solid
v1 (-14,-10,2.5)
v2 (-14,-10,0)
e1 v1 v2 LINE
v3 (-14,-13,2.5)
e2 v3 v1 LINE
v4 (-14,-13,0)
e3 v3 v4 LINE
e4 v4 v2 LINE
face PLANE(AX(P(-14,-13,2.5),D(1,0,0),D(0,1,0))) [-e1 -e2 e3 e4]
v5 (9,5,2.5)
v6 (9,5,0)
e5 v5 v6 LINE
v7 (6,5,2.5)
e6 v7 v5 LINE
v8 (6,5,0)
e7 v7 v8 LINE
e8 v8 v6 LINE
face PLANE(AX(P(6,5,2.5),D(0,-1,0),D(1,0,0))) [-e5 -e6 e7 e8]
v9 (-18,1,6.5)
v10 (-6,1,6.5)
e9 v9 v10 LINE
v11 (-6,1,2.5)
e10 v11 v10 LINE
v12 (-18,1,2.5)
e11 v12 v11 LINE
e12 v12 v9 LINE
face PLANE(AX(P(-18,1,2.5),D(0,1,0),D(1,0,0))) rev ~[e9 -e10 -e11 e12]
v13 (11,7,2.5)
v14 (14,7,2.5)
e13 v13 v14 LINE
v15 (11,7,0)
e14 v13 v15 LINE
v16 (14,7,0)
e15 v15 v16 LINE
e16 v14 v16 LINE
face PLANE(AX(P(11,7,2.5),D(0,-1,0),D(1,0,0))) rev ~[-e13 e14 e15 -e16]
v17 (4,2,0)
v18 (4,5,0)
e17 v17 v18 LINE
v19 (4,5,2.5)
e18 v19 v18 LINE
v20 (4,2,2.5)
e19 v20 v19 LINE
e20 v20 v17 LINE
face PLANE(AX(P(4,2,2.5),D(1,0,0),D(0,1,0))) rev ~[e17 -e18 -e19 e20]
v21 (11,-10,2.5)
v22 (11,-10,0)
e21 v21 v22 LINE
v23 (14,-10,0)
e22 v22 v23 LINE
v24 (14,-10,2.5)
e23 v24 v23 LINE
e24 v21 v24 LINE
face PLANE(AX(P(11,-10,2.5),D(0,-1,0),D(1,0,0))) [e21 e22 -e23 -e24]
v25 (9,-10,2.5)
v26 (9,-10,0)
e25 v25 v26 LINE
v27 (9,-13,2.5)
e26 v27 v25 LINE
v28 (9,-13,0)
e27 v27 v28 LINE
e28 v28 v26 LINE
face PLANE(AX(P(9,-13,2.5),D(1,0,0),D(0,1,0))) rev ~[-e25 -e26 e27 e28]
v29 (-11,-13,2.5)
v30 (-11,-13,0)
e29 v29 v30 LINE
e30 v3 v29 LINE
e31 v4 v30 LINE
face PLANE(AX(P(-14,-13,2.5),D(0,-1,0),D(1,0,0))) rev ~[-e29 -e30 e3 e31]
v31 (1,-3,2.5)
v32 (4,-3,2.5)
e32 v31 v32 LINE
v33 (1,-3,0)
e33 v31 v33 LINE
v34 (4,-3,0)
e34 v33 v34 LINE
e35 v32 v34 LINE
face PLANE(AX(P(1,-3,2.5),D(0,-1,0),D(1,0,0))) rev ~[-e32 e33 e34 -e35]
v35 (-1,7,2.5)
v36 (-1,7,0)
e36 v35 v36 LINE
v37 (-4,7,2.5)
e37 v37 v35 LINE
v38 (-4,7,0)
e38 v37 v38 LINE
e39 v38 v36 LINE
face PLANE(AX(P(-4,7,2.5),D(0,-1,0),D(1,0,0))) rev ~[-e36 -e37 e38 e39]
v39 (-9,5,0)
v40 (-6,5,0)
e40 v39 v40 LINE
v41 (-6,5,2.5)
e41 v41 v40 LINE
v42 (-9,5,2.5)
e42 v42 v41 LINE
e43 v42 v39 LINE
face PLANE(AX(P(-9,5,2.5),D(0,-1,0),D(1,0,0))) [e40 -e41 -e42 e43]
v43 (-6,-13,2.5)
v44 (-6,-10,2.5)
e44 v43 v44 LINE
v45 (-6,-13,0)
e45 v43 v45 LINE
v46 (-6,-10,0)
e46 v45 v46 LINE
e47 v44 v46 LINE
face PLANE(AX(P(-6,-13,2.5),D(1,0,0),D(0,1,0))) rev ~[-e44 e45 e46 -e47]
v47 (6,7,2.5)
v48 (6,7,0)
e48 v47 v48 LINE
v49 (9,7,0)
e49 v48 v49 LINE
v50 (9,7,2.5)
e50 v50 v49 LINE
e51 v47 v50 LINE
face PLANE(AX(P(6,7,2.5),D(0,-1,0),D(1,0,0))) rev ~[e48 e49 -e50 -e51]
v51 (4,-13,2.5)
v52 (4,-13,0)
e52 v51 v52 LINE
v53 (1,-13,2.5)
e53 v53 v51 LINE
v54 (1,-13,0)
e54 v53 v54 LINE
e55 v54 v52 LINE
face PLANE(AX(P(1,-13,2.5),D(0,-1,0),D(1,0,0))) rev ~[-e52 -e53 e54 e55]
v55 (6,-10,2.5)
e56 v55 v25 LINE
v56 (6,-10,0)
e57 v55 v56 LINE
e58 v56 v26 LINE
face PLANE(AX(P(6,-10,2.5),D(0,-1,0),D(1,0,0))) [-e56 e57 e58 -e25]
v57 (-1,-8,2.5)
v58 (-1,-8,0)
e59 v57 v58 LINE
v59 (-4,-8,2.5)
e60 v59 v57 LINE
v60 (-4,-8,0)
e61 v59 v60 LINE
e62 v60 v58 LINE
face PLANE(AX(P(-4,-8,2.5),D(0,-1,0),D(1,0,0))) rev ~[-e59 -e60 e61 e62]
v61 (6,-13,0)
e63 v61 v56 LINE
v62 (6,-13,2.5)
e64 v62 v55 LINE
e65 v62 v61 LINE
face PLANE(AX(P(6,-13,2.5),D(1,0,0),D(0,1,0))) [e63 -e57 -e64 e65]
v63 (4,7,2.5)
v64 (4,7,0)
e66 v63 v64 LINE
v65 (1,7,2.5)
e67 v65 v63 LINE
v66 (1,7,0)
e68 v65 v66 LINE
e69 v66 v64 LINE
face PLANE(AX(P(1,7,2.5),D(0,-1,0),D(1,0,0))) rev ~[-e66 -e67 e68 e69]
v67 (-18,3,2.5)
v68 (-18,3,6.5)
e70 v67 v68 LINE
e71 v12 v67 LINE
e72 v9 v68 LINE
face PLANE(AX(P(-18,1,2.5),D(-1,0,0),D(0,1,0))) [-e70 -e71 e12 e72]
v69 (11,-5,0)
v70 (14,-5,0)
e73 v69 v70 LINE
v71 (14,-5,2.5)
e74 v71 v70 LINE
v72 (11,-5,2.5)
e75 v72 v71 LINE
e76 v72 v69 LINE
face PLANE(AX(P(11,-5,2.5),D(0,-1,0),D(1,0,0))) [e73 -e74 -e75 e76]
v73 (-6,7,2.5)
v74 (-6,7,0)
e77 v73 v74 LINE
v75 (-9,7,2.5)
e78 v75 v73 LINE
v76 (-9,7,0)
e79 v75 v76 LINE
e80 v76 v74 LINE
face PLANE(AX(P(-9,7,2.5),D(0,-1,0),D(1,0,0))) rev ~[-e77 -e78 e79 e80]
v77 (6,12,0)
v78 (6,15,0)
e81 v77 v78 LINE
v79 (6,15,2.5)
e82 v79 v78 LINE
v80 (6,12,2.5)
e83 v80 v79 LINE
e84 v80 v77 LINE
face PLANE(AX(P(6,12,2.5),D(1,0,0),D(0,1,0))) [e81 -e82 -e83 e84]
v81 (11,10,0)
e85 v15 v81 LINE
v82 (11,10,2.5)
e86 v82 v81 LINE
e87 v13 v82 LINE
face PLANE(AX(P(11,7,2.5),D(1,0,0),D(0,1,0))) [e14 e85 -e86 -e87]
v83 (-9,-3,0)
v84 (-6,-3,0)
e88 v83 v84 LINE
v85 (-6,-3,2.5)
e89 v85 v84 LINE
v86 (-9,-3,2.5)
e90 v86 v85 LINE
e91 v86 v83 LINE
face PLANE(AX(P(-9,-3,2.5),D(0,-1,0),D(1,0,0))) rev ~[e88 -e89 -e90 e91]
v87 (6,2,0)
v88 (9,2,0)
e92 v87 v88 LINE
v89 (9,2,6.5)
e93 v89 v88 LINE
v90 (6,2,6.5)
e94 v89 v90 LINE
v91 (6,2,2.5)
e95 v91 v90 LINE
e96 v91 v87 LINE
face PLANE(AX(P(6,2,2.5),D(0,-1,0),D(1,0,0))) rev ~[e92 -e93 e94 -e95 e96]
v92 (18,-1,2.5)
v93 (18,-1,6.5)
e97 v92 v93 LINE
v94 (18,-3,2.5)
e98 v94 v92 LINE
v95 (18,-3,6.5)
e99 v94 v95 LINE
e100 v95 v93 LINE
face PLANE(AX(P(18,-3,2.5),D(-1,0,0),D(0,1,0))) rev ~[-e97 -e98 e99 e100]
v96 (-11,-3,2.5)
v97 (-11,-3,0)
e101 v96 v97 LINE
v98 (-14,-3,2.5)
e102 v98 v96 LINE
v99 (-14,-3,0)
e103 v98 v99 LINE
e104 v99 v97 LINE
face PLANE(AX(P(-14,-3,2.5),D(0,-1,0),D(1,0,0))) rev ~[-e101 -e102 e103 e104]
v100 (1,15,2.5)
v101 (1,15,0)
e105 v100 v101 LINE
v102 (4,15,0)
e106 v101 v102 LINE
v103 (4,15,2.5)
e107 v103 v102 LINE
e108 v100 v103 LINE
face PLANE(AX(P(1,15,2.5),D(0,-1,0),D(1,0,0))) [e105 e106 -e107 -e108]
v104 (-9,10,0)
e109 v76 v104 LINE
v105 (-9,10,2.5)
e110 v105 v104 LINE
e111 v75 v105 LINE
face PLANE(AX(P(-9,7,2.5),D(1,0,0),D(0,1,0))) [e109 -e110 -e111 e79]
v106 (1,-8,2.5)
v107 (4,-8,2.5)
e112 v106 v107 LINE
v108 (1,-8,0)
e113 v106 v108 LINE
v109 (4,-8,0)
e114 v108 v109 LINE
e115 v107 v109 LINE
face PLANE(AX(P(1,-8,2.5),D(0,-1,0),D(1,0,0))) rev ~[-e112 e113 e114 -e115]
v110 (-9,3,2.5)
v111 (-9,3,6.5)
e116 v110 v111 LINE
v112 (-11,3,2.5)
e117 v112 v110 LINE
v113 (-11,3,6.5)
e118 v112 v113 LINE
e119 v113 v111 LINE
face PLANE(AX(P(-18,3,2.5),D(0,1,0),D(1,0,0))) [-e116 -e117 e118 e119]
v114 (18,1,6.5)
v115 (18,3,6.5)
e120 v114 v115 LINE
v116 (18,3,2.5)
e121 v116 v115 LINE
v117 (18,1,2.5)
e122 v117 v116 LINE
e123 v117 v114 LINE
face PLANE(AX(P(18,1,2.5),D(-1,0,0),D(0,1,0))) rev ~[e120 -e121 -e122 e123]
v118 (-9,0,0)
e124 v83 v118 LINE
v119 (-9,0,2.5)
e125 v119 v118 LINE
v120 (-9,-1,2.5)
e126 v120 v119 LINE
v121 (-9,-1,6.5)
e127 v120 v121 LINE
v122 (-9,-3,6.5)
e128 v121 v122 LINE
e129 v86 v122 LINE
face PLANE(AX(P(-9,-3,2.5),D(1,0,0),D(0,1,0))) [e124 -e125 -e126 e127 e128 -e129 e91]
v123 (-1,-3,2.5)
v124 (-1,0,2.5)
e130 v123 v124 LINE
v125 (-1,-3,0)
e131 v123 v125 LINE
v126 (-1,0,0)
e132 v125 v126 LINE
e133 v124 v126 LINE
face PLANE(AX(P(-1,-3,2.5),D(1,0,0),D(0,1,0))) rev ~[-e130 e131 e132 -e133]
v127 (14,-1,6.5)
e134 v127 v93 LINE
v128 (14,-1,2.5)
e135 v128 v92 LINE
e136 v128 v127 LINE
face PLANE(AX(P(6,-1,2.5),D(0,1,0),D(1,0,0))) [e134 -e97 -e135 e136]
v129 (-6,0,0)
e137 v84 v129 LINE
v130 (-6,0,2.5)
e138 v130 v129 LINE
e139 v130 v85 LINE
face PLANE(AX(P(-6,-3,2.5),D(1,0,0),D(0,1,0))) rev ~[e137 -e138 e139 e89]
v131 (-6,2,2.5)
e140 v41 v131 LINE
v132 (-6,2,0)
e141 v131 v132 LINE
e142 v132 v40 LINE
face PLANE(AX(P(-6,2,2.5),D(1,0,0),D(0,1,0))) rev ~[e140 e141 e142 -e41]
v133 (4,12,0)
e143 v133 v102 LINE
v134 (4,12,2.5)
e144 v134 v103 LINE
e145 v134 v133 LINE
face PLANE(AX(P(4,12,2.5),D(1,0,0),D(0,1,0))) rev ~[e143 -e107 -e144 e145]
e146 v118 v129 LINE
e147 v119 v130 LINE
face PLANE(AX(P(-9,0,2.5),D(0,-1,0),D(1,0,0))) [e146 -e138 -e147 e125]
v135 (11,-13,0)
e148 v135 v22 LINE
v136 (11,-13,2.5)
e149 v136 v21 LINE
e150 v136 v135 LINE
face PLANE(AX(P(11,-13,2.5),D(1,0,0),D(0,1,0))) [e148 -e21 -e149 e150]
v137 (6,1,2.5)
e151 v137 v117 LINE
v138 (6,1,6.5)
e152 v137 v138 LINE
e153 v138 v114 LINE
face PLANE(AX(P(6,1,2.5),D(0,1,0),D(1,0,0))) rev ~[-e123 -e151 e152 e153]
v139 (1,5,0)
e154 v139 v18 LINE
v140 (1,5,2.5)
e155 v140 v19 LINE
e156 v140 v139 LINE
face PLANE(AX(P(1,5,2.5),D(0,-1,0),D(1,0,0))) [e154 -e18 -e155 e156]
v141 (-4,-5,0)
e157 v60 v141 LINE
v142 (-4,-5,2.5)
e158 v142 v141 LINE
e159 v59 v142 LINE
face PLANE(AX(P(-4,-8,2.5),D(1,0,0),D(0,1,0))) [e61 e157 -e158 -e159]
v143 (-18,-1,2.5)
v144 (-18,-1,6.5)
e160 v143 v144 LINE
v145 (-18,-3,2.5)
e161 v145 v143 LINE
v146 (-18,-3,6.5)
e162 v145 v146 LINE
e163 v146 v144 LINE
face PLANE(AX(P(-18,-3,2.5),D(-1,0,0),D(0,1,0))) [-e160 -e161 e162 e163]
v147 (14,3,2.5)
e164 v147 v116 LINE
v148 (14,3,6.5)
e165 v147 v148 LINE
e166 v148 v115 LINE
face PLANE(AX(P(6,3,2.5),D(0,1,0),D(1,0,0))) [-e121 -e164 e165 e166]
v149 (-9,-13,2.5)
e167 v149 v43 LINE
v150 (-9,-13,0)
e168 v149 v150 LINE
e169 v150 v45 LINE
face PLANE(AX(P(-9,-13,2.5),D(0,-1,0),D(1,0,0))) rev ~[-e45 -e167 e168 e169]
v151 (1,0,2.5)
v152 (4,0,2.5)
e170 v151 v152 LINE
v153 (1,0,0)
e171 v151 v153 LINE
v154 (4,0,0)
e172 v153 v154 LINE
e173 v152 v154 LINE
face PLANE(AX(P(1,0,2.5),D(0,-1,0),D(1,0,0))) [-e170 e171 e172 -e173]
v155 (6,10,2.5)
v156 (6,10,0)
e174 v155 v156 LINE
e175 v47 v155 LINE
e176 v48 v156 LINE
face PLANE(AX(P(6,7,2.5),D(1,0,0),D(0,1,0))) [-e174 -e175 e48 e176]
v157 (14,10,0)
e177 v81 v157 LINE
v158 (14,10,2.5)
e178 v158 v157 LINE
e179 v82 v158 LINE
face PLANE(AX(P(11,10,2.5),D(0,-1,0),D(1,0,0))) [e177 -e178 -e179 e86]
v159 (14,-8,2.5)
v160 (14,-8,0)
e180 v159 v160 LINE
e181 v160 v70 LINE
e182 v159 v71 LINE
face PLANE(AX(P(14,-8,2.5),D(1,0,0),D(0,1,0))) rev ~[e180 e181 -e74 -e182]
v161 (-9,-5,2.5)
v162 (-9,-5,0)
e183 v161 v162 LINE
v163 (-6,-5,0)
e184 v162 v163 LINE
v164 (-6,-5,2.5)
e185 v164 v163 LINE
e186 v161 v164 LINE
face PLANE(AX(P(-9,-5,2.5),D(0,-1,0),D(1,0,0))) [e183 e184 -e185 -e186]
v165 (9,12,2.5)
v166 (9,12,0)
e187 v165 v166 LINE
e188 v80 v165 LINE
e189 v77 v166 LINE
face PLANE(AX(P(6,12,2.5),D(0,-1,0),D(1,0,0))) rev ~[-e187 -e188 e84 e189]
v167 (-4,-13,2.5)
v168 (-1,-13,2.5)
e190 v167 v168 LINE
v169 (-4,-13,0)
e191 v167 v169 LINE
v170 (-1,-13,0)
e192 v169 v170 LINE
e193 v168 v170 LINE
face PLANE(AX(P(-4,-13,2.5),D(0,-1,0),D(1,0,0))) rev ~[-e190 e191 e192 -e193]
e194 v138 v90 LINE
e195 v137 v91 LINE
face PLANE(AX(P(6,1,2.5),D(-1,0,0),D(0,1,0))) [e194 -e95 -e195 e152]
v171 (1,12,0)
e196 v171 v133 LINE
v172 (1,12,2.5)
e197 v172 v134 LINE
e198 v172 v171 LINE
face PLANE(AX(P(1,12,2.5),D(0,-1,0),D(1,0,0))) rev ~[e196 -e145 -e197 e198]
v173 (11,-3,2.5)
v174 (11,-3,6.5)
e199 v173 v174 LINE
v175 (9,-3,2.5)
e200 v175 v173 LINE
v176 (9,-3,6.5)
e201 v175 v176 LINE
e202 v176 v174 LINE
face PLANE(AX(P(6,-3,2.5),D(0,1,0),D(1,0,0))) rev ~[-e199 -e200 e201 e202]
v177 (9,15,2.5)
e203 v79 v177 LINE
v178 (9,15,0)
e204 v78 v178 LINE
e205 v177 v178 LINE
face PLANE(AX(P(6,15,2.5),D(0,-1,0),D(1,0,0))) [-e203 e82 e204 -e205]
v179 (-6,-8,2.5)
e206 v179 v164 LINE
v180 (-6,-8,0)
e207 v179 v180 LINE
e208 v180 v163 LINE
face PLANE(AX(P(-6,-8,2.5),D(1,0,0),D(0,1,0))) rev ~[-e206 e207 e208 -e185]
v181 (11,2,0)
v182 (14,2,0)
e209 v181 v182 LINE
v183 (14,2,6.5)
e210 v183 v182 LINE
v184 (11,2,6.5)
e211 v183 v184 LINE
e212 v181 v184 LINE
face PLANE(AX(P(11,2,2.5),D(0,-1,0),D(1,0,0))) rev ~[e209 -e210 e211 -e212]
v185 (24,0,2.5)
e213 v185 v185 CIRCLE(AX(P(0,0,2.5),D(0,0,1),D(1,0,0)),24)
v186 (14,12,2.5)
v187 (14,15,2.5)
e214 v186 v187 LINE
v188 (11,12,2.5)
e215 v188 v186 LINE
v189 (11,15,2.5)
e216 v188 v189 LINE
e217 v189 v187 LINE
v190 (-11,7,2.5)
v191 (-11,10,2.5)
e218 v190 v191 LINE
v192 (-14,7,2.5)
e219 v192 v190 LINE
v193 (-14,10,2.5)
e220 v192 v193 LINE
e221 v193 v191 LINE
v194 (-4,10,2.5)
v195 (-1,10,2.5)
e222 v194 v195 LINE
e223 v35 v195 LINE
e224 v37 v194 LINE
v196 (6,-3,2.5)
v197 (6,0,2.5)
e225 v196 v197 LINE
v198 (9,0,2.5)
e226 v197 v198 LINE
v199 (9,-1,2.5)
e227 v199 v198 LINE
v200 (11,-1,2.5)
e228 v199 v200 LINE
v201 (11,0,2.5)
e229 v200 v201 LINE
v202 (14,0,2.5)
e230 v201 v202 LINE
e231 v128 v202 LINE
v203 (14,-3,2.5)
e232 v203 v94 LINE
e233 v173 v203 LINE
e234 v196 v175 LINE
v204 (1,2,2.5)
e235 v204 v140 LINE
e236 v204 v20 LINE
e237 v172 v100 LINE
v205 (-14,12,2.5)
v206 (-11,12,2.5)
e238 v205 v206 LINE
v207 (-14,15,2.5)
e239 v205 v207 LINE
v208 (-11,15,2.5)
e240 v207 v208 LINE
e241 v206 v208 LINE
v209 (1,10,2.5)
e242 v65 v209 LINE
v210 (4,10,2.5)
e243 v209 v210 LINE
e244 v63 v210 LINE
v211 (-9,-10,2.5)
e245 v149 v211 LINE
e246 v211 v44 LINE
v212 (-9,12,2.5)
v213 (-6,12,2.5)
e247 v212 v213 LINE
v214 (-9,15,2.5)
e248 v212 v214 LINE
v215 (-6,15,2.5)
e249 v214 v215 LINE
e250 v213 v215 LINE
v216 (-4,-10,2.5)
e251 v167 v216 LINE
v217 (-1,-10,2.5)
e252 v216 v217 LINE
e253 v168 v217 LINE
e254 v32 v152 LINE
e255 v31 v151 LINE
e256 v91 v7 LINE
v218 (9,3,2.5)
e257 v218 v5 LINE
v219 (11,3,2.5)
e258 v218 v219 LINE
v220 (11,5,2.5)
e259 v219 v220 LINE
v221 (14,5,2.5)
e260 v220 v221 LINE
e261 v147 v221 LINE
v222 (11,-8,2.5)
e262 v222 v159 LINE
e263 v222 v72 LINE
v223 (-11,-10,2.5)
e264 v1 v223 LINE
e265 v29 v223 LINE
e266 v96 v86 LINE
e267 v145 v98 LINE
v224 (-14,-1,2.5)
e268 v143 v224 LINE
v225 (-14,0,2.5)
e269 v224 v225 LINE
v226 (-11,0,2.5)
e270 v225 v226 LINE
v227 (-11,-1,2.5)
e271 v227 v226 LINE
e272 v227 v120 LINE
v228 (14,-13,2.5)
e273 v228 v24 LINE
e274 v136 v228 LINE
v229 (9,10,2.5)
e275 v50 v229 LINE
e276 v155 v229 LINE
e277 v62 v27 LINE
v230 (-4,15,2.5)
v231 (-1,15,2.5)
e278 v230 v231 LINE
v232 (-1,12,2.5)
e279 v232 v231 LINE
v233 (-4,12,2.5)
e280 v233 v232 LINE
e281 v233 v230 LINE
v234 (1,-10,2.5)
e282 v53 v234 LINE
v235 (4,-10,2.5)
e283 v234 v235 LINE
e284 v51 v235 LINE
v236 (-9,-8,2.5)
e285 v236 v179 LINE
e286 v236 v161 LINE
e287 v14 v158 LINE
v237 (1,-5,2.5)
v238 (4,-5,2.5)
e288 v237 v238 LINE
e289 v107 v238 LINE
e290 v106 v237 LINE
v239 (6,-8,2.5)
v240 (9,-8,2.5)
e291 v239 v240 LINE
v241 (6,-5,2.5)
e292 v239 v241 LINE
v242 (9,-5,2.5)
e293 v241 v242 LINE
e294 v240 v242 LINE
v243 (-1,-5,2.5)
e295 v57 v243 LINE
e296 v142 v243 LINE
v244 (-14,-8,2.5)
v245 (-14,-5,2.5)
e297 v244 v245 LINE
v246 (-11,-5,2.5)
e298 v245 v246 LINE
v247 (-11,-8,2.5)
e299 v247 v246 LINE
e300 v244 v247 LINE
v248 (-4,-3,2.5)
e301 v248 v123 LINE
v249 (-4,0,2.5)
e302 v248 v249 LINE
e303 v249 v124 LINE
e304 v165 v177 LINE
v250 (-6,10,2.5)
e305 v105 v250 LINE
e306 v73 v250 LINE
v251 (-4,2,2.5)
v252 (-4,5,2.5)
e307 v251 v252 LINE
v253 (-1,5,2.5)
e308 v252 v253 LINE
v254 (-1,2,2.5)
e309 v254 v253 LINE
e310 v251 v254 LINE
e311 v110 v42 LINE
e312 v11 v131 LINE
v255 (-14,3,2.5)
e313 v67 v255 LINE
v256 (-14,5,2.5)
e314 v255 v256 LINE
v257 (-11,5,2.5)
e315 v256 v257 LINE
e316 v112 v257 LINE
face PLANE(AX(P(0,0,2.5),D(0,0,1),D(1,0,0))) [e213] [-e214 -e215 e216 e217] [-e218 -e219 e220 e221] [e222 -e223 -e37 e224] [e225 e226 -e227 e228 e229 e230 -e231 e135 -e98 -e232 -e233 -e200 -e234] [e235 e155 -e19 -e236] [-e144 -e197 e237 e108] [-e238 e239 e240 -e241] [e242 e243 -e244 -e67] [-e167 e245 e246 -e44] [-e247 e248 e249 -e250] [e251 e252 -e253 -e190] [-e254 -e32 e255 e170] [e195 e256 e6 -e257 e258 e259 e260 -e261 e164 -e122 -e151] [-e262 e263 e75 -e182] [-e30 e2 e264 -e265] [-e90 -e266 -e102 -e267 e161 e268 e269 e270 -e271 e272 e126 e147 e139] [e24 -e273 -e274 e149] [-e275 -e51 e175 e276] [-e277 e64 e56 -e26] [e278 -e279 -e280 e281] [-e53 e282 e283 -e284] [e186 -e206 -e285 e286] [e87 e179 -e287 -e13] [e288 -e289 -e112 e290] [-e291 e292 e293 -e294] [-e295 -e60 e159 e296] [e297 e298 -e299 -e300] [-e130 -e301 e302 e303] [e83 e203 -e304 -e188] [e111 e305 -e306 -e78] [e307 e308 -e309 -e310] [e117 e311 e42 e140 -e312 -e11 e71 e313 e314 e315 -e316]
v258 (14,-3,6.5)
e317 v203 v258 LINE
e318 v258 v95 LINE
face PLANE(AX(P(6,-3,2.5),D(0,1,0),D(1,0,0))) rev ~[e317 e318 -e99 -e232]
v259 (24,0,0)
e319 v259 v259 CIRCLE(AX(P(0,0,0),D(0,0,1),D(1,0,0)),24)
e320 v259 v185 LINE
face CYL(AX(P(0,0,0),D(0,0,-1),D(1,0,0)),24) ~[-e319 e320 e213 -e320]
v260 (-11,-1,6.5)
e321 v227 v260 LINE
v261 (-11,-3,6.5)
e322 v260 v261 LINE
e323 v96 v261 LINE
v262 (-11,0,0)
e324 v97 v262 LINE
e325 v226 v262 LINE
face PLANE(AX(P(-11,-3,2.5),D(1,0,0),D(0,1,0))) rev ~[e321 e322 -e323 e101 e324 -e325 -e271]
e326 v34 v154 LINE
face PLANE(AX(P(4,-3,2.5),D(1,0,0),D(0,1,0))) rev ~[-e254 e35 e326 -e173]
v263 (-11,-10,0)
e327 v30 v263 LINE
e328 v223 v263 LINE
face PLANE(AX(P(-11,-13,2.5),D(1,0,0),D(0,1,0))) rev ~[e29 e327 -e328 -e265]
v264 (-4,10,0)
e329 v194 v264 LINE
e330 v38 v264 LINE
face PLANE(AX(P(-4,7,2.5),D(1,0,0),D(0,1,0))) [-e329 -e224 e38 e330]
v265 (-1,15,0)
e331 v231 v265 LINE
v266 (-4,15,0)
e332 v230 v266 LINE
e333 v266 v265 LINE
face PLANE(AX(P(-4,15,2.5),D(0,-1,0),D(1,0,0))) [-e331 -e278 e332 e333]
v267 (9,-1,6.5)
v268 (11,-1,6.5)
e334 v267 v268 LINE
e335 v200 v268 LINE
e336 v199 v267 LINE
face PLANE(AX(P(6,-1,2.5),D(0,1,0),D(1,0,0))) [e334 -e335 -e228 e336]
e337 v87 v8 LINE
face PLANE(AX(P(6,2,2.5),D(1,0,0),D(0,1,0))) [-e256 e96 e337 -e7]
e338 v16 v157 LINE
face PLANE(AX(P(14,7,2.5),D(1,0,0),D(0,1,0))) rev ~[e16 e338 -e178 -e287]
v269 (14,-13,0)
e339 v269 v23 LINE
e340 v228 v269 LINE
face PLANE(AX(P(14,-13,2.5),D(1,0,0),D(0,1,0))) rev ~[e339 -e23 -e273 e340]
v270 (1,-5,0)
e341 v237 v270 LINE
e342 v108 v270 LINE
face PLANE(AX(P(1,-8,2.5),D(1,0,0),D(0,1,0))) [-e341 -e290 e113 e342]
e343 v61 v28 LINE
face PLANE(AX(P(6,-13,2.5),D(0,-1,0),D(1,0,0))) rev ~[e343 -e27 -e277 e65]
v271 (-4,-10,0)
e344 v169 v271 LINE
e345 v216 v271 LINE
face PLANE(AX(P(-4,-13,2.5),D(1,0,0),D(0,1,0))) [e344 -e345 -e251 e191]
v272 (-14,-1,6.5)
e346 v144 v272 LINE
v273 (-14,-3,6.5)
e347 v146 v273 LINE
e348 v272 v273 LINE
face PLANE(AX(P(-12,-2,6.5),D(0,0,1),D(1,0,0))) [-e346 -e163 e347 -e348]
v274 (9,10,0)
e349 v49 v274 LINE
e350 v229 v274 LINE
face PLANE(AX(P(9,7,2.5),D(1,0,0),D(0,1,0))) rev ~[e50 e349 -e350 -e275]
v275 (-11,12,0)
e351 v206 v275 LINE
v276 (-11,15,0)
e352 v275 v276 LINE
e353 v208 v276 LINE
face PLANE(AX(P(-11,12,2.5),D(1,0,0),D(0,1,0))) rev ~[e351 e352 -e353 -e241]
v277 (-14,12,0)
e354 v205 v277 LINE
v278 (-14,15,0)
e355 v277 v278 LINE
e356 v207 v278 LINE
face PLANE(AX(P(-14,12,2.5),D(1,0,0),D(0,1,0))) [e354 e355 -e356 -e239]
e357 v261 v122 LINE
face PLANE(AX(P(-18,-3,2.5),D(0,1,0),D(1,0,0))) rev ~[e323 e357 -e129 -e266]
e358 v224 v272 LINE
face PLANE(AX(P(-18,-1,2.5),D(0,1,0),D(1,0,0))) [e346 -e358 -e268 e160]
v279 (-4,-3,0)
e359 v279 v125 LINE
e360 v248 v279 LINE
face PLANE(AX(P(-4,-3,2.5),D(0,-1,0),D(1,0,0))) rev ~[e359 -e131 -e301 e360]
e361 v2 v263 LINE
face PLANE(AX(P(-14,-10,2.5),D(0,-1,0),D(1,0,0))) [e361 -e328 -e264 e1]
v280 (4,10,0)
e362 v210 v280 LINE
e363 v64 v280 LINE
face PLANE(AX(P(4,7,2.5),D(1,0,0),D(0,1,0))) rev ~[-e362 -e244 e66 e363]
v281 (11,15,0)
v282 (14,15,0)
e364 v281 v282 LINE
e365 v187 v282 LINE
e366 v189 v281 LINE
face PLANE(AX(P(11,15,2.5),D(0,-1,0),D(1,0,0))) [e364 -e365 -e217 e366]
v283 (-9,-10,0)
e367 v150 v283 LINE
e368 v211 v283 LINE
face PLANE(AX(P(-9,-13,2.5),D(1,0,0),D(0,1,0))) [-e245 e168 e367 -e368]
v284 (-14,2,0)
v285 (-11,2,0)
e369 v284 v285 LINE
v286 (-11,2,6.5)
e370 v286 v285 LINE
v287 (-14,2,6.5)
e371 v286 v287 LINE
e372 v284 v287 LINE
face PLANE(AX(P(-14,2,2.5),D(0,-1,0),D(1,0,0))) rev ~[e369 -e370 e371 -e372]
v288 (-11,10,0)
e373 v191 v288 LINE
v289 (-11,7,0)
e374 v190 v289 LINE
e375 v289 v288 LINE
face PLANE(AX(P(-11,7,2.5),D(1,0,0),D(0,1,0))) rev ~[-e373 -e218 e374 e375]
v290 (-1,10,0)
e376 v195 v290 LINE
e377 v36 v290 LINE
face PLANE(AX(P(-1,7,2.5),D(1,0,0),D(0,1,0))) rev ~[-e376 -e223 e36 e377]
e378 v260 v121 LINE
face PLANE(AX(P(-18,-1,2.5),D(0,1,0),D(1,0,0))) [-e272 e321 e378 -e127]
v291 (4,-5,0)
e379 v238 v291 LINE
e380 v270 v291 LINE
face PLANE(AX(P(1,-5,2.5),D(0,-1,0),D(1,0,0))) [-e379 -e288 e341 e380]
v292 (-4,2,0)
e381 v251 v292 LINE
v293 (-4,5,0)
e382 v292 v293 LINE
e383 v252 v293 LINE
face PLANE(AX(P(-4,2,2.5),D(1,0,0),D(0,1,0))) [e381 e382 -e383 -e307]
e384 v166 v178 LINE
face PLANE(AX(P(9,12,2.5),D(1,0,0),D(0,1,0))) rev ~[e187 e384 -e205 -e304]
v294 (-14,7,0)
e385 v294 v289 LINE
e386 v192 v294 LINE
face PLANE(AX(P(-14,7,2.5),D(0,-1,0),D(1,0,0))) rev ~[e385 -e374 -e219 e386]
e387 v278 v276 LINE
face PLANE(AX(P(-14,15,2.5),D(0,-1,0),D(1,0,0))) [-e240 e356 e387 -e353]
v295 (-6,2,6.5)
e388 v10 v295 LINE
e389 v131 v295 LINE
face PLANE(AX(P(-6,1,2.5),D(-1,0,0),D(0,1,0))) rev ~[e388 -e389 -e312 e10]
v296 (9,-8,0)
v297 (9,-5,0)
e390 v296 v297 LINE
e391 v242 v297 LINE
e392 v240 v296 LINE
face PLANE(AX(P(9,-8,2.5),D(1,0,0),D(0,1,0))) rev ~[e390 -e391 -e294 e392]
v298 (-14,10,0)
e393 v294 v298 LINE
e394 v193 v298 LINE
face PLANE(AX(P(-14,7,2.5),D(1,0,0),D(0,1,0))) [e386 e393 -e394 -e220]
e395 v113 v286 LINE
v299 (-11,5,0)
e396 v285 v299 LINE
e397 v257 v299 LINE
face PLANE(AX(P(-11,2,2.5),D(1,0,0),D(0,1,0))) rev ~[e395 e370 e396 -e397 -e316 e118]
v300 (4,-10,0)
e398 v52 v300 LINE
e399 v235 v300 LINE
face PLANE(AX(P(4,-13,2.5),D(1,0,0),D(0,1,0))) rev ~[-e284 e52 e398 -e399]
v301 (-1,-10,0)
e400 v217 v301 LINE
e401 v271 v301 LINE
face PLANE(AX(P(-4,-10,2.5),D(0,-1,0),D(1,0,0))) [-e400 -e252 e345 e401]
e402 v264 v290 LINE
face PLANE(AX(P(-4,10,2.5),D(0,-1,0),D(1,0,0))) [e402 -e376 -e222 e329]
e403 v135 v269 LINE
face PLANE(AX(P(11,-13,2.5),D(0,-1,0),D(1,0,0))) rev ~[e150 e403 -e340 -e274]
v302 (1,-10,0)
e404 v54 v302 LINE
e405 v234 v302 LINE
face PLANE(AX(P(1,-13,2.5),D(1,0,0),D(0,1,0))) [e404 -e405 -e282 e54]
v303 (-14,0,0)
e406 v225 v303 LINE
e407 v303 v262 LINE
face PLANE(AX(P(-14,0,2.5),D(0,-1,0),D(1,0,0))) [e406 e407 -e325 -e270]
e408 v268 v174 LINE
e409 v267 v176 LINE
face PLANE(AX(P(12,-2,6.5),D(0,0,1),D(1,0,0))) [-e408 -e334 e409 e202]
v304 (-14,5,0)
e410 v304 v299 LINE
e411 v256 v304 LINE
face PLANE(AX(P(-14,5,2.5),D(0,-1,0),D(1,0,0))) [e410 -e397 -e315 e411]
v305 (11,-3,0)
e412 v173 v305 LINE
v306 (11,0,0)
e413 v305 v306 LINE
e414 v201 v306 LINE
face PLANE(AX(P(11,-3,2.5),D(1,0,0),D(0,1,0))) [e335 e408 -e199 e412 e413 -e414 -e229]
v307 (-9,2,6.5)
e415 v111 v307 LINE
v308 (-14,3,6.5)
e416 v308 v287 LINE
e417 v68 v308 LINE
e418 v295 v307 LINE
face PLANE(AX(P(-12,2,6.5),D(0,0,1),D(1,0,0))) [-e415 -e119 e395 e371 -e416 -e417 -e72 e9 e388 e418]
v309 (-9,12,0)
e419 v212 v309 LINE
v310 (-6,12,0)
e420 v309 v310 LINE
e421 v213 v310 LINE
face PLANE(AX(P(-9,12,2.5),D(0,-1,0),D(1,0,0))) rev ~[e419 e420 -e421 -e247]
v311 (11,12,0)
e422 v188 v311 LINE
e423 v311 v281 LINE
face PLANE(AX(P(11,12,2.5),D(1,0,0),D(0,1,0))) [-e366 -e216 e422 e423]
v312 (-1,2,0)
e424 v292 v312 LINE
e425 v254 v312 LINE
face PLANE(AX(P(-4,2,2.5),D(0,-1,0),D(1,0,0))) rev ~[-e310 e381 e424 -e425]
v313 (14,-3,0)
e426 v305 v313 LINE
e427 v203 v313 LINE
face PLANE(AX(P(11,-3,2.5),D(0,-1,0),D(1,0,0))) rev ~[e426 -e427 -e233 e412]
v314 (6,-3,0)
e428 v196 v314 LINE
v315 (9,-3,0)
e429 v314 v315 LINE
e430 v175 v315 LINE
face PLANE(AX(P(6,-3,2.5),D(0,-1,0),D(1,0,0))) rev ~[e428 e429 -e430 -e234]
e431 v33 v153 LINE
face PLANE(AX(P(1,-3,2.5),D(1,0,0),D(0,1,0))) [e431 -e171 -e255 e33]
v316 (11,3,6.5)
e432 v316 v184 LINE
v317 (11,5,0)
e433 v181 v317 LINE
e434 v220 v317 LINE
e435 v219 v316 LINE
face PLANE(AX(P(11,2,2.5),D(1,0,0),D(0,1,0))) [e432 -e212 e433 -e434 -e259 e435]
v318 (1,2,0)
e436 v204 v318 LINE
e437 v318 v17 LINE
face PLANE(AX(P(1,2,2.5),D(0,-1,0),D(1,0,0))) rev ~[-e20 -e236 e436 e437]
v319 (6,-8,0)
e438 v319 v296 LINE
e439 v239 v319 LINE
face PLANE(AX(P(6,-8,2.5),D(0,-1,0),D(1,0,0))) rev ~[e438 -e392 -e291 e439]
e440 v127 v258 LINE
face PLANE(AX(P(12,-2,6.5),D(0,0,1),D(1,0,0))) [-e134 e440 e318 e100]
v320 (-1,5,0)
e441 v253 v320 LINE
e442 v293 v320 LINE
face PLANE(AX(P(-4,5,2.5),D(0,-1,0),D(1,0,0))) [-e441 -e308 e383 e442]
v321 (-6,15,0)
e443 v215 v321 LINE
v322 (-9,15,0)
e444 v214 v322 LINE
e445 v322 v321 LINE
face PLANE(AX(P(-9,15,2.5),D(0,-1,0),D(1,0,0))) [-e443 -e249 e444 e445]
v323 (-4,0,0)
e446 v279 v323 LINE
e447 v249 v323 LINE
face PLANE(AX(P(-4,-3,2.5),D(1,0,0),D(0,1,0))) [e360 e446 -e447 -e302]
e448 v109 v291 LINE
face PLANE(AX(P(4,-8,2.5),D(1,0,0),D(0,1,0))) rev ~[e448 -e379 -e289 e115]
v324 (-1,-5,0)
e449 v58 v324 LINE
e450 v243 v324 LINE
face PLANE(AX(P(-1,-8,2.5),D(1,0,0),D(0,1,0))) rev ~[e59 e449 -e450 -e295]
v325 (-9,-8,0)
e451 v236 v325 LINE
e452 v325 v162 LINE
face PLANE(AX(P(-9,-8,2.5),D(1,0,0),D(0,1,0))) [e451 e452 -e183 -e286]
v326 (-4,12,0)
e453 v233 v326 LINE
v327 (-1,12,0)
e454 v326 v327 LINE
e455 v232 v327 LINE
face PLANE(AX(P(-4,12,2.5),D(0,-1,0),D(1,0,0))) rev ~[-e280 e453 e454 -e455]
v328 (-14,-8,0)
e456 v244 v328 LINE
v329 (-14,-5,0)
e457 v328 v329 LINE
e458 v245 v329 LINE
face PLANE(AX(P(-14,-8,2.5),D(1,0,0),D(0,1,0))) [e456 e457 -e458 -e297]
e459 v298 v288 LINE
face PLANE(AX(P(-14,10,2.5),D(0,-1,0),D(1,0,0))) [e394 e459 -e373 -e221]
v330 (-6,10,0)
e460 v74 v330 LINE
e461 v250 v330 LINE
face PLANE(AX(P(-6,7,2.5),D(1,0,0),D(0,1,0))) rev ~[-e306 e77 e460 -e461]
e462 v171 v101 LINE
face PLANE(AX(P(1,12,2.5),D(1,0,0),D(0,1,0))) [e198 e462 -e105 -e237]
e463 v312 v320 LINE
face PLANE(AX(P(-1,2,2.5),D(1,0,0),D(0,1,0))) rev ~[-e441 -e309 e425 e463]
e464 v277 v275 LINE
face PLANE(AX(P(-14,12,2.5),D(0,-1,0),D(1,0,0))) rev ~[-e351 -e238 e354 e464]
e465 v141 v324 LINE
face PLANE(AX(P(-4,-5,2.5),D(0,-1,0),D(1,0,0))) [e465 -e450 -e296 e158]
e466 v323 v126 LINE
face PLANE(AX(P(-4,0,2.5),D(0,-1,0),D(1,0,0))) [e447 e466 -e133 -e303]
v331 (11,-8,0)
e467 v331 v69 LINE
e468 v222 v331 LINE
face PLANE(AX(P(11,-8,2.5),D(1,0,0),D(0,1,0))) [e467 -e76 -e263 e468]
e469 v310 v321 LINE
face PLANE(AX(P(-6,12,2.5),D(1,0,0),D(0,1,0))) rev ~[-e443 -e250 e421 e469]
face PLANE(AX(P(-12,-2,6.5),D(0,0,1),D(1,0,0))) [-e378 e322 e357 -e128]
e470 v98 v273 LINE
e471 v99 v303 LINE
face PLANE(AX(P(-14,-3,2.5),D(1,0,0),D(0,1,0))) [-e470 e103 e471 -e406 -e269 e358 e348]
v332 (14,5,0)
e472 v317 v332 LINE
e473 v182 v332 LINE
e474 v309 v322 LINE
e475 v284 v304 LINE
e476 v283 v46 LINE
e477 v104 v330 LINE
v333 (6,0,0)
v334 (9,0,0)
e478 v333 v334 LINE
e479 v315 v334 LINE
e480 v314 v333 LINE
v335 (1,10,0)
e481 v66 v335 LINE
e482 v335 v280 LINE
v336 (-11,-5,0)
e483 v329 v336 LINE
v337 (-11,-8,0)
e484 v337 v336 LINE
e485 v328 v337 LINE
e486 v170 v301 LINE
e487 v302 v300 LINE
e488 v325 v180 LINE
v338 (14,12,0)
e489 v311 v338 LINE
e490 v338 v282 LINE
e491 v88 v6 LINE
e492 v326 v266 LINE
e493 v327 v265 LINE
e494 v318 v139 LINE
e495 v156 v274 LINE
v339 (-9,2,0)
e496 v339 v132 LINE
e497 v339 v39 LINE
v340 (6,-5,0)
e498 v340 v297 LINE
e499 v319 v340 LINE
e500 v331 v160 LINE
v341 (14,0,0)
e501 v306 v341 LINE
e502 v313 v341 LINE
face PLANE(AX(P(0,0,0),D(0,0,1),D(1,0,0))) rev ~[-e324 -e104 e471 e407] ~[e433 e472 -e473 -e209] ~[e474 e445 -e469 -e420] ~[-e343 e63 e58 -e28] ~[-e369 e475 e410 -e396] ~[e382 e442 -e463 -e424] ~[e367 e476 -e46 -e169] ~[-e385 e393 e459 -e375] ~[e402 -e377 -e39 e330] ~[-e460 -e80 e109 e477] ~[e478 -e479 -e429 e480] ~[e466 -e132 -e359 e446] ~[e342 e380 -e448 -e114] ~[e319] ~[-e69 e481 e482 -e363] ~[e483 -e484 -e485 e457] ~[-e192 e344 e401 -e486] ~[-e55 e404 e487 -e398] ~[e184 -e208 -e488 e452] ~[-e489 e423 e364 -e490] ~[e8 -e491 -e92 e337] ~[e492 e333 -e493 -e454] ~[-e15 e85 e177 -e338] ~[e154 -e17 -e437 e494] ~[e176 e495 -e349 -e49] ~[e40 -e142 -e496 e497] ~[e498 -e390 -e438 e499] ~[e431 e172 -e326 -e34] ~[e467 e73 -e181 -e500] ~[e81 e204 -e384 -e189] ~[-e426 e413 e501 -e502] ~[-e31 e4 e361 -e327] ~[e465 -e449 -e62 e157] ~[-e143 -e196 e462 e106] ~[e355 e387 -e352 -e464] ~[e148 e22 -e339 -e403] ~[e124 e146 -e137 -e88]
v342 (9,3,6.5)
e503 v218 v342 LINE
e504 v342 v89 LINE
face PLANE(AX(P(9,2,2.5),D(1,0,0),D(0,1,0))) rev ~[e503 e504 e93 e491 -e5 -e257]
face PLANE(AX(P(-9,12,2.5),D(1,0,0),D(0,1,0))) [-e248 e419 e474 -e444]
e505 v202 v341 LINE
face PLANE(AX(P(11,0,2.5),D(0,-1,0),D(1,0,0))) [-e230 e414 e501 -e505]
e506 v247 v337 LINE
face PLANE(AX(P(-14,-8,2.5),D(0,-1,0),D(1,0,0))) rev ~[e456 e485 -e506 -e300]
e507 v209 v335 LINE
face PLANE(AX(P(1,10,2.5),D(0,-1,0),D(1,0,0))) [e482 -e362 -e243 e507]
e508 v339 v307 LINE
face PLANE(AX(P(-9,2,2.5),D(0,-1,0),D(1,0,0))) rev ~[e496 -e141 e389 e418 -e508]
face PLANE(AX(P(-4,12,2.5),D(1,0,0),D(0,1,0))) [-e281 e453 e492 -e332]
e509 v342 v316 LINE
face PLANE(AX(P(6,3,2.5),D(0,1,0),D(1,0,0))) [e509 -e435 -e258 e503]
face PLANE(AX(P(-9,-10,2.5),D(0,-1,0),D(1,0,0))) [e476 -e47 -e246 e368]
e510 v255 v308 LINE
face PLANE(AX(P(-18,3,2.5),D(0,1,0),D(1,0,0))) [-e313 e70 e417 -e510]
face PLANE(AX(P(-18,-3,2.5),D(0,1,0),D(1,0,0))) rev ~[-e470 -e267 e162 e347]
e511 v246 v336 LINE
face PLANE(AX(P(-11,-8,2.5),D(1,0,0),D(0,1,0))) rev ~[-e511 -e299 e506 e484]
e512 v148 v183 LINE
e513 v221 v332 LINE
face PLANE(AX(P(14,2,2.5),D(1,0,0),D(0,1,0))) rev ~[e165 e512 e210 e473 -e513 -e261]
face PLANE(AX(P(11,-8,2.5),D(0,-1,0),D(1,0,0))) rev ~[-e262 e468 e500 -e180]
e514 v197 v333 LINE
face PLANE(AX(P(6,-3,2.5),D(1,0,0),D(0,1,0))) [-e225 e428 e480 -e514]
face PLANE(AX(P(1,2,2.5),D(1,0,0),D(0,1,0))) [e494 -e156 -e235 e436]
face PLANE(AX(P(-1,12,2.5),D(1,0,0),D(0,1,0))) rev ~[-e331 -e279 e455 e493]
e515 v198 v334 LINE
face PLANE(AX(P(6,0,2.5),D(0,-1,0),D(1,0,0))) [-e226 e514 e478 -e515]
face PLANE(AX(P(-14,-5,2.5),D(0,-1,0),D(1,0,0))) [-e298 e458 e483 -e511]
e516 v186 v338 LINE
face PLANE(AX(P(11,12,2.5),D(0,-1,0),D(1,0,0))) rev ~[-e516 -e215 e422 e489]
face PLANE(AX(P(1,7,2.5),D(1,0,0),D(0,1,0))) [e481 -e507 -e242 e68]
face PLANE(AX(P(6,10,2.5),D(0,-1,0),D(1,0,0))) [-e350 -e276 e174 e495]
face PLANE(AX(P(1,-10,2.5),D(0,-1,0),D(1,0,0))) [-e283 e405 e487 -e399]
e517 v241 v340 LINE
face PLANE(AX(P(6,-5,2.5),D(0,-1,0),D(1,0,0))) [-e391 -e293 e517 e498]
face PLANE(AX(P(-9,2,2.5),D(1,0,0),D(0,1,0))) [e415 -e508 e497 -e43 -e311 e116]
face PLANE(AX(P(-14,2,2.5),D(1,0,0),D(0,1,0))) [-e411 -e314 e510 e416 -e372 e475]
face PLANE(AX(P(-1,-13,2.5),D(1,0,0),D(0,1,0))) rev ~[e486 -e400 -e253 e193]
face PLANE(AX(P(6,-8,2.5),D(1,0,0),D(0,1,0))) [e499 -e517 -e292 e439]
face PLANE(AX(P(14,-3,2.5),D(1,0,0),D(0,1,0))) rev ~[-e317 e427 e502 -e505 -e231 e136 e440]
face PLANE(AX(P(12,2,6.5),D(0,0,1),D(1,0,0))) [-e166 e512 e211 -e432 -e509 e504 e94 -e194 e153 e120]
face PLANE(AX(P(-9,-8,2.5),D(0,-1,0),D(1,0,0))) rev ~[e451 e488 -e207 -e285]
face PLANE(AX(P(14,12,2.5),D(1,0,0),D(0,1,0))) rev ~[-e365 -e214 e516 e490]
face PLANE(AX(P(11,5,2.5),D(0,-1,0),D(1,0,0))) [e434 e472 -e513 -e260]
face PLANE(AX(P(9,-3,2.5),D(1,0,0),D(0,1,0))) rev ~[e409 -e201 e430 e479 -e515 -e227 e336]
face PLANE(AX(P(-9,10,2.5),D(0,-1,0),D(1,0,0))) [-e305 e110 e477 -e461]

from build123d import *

# Parameters (mm, degrees)
F0_R          = 24
F1_DEPTH      = 2.5
F4_W          = 12
F4_H          = 2
F5_DEPTH      = 4
F6_W          = 3
F6_H          = 3
F7_DEPTH      = 2.5
F7_DEPTH_BACK = 25


with BuildPart() as f1:
    # F0 (on Top) → F1 (new body)
    with BuildSketch(Plane.XY):
        Circle(F0_R)
    extrude(amount=F1_DEPTH)

    # F4 (on face) → F5 (join)
    with BuildSketch(Plane.XY.offset(2.5)):
        with Locations((12, -2)):
            Rectangle(F4_W, F4_H)
        with Locations((12, 2)):
            Rectangle(F4_W, F4_H)
        with Locations((-12, -2)):
            Rectangle(F4_W, F4_H)
        with Locations((-12, 2)):
            Rectangle(F4_W, F4_H)
    extrude(amount=F5_DEPTH)

    # F6 (on face) → F7 (cut, two sides)
    with BuildSketch(Plane.XY.offset(2.5)) as f7_sk:
        with Locations((12.5, -11.5)):
            Rectangle(F6_W, F6_H)
        with Locations((12.5, -6.5)):
            Rectangle(F6_W, F6_H)
        with Locations((12.5, -1.5)):
            Rectangle(F6_W, F6_H)
        with Locations((12.5, 3.5)):
            Rectangle(F6_W, F6_H)
        with Locations((12.5, 8.5)):
            Rectangle(F6_W, F6_H)
        with Locations((12.5, 13.5)):
            Rectangle(F6_W, F6_H)
        with Locations((7.5, -11.5)):
            Rectangle(F6_W, F6_H)
        with Locations((7.5, -6.5)):
            Rectangle(F6_W, F6_H)
        with Locations((7.5, -1.5)):
            Rectangle(F6_W, F6_H)
        with Locations((7.5, 3.5)):
            Rectangle(F6_W, F6_H)
        with Locations((7.5, 8.5)):
            Rectangle(F6_W, F6_H)
        with Locations((7.5, 13.5)):
            Rectangle(F6_W, F6_H)
        with Locations((2.5, -11.5)):
            Rectangle(F6_W, F6_H)
        with Locations((2.5, -6.5)):
            Rectangle(F6_W, F6_H)
        with Locations((2.5, -1.5)):
            Rectangle(F6_W, F6_H)
        with Locations((2.5, 3.5)):
            Rectangle(F6_W, F6_H)
        with Locations((2.5, 8.5)):
            Rectangle(F6_W, F6_H)
        with Locations((2.5, 13.5)):
            Rectangle(F6_W, F6_H)
        with Locations((-2.5, -11.5)):
            Rectangle(F6_W, F6_H)
        with Locations((-2.5, -6.5)):
            Rectangle(F6_W, F6_H)
        with Locations((-2.5, -1.5)):
            Rectangle(F6_W, F6_H)
        with Locations((-2.5, 3.5)):
            Rectangle(F6_W, F6_H)
        with Locations((-2.5, 8.5)):
            Rectangle(F6_W, F6_H)
        with Locations((-2.5, 13.5)):
            Rectangle(F6_W, F6_H)
        with Locations((-7.5, -11.5)):
            Rectangle(F6_W, F6_H)
        with Locations((-7.5, -6.5)):
            Rectangle(F6_W, F6_H)
        with Locations((-7.5, -1.5)):
            Rectangle(F6_W, F6_H)
        with Locations((-7.5, 3.5)):
            Rectangle(F6_W, F6_H)
        with Locations((-7.5, 8.5)):
            Rectangle(F6_W, F6_H)
        with Locations((-7.5, 13.5)):
            Rectangle(F6_W, F6_H)
        with Locations((-12.5, -11.5)):
            Rectangle(F6_W, F6_H)
        with Locations((-12.5, -6.5)):
            Rectangle(F6_W, F6_H)
        with Locations((-12.5, -1.5)):
            Rectangle(F6_W, F6_H)
        with Locations((-12.5, 3.5)):
            Rectangle(F6_W, F6_H)
        with Locations((-12.5, 8.5)):
            Rectangle(F6_W, F6_H)
        with Locations((-12.5, 13.5)):
            Rectangle(F6_W, F6_H)
    extrude(amount=-F7_DEPTH, mode=Mode.SUBTRACT)
    extrude(f7_sk.sketch, amount=F7_DEPTH_BACK, mode=Mode.SUBTRACT)


solid = f1.part
